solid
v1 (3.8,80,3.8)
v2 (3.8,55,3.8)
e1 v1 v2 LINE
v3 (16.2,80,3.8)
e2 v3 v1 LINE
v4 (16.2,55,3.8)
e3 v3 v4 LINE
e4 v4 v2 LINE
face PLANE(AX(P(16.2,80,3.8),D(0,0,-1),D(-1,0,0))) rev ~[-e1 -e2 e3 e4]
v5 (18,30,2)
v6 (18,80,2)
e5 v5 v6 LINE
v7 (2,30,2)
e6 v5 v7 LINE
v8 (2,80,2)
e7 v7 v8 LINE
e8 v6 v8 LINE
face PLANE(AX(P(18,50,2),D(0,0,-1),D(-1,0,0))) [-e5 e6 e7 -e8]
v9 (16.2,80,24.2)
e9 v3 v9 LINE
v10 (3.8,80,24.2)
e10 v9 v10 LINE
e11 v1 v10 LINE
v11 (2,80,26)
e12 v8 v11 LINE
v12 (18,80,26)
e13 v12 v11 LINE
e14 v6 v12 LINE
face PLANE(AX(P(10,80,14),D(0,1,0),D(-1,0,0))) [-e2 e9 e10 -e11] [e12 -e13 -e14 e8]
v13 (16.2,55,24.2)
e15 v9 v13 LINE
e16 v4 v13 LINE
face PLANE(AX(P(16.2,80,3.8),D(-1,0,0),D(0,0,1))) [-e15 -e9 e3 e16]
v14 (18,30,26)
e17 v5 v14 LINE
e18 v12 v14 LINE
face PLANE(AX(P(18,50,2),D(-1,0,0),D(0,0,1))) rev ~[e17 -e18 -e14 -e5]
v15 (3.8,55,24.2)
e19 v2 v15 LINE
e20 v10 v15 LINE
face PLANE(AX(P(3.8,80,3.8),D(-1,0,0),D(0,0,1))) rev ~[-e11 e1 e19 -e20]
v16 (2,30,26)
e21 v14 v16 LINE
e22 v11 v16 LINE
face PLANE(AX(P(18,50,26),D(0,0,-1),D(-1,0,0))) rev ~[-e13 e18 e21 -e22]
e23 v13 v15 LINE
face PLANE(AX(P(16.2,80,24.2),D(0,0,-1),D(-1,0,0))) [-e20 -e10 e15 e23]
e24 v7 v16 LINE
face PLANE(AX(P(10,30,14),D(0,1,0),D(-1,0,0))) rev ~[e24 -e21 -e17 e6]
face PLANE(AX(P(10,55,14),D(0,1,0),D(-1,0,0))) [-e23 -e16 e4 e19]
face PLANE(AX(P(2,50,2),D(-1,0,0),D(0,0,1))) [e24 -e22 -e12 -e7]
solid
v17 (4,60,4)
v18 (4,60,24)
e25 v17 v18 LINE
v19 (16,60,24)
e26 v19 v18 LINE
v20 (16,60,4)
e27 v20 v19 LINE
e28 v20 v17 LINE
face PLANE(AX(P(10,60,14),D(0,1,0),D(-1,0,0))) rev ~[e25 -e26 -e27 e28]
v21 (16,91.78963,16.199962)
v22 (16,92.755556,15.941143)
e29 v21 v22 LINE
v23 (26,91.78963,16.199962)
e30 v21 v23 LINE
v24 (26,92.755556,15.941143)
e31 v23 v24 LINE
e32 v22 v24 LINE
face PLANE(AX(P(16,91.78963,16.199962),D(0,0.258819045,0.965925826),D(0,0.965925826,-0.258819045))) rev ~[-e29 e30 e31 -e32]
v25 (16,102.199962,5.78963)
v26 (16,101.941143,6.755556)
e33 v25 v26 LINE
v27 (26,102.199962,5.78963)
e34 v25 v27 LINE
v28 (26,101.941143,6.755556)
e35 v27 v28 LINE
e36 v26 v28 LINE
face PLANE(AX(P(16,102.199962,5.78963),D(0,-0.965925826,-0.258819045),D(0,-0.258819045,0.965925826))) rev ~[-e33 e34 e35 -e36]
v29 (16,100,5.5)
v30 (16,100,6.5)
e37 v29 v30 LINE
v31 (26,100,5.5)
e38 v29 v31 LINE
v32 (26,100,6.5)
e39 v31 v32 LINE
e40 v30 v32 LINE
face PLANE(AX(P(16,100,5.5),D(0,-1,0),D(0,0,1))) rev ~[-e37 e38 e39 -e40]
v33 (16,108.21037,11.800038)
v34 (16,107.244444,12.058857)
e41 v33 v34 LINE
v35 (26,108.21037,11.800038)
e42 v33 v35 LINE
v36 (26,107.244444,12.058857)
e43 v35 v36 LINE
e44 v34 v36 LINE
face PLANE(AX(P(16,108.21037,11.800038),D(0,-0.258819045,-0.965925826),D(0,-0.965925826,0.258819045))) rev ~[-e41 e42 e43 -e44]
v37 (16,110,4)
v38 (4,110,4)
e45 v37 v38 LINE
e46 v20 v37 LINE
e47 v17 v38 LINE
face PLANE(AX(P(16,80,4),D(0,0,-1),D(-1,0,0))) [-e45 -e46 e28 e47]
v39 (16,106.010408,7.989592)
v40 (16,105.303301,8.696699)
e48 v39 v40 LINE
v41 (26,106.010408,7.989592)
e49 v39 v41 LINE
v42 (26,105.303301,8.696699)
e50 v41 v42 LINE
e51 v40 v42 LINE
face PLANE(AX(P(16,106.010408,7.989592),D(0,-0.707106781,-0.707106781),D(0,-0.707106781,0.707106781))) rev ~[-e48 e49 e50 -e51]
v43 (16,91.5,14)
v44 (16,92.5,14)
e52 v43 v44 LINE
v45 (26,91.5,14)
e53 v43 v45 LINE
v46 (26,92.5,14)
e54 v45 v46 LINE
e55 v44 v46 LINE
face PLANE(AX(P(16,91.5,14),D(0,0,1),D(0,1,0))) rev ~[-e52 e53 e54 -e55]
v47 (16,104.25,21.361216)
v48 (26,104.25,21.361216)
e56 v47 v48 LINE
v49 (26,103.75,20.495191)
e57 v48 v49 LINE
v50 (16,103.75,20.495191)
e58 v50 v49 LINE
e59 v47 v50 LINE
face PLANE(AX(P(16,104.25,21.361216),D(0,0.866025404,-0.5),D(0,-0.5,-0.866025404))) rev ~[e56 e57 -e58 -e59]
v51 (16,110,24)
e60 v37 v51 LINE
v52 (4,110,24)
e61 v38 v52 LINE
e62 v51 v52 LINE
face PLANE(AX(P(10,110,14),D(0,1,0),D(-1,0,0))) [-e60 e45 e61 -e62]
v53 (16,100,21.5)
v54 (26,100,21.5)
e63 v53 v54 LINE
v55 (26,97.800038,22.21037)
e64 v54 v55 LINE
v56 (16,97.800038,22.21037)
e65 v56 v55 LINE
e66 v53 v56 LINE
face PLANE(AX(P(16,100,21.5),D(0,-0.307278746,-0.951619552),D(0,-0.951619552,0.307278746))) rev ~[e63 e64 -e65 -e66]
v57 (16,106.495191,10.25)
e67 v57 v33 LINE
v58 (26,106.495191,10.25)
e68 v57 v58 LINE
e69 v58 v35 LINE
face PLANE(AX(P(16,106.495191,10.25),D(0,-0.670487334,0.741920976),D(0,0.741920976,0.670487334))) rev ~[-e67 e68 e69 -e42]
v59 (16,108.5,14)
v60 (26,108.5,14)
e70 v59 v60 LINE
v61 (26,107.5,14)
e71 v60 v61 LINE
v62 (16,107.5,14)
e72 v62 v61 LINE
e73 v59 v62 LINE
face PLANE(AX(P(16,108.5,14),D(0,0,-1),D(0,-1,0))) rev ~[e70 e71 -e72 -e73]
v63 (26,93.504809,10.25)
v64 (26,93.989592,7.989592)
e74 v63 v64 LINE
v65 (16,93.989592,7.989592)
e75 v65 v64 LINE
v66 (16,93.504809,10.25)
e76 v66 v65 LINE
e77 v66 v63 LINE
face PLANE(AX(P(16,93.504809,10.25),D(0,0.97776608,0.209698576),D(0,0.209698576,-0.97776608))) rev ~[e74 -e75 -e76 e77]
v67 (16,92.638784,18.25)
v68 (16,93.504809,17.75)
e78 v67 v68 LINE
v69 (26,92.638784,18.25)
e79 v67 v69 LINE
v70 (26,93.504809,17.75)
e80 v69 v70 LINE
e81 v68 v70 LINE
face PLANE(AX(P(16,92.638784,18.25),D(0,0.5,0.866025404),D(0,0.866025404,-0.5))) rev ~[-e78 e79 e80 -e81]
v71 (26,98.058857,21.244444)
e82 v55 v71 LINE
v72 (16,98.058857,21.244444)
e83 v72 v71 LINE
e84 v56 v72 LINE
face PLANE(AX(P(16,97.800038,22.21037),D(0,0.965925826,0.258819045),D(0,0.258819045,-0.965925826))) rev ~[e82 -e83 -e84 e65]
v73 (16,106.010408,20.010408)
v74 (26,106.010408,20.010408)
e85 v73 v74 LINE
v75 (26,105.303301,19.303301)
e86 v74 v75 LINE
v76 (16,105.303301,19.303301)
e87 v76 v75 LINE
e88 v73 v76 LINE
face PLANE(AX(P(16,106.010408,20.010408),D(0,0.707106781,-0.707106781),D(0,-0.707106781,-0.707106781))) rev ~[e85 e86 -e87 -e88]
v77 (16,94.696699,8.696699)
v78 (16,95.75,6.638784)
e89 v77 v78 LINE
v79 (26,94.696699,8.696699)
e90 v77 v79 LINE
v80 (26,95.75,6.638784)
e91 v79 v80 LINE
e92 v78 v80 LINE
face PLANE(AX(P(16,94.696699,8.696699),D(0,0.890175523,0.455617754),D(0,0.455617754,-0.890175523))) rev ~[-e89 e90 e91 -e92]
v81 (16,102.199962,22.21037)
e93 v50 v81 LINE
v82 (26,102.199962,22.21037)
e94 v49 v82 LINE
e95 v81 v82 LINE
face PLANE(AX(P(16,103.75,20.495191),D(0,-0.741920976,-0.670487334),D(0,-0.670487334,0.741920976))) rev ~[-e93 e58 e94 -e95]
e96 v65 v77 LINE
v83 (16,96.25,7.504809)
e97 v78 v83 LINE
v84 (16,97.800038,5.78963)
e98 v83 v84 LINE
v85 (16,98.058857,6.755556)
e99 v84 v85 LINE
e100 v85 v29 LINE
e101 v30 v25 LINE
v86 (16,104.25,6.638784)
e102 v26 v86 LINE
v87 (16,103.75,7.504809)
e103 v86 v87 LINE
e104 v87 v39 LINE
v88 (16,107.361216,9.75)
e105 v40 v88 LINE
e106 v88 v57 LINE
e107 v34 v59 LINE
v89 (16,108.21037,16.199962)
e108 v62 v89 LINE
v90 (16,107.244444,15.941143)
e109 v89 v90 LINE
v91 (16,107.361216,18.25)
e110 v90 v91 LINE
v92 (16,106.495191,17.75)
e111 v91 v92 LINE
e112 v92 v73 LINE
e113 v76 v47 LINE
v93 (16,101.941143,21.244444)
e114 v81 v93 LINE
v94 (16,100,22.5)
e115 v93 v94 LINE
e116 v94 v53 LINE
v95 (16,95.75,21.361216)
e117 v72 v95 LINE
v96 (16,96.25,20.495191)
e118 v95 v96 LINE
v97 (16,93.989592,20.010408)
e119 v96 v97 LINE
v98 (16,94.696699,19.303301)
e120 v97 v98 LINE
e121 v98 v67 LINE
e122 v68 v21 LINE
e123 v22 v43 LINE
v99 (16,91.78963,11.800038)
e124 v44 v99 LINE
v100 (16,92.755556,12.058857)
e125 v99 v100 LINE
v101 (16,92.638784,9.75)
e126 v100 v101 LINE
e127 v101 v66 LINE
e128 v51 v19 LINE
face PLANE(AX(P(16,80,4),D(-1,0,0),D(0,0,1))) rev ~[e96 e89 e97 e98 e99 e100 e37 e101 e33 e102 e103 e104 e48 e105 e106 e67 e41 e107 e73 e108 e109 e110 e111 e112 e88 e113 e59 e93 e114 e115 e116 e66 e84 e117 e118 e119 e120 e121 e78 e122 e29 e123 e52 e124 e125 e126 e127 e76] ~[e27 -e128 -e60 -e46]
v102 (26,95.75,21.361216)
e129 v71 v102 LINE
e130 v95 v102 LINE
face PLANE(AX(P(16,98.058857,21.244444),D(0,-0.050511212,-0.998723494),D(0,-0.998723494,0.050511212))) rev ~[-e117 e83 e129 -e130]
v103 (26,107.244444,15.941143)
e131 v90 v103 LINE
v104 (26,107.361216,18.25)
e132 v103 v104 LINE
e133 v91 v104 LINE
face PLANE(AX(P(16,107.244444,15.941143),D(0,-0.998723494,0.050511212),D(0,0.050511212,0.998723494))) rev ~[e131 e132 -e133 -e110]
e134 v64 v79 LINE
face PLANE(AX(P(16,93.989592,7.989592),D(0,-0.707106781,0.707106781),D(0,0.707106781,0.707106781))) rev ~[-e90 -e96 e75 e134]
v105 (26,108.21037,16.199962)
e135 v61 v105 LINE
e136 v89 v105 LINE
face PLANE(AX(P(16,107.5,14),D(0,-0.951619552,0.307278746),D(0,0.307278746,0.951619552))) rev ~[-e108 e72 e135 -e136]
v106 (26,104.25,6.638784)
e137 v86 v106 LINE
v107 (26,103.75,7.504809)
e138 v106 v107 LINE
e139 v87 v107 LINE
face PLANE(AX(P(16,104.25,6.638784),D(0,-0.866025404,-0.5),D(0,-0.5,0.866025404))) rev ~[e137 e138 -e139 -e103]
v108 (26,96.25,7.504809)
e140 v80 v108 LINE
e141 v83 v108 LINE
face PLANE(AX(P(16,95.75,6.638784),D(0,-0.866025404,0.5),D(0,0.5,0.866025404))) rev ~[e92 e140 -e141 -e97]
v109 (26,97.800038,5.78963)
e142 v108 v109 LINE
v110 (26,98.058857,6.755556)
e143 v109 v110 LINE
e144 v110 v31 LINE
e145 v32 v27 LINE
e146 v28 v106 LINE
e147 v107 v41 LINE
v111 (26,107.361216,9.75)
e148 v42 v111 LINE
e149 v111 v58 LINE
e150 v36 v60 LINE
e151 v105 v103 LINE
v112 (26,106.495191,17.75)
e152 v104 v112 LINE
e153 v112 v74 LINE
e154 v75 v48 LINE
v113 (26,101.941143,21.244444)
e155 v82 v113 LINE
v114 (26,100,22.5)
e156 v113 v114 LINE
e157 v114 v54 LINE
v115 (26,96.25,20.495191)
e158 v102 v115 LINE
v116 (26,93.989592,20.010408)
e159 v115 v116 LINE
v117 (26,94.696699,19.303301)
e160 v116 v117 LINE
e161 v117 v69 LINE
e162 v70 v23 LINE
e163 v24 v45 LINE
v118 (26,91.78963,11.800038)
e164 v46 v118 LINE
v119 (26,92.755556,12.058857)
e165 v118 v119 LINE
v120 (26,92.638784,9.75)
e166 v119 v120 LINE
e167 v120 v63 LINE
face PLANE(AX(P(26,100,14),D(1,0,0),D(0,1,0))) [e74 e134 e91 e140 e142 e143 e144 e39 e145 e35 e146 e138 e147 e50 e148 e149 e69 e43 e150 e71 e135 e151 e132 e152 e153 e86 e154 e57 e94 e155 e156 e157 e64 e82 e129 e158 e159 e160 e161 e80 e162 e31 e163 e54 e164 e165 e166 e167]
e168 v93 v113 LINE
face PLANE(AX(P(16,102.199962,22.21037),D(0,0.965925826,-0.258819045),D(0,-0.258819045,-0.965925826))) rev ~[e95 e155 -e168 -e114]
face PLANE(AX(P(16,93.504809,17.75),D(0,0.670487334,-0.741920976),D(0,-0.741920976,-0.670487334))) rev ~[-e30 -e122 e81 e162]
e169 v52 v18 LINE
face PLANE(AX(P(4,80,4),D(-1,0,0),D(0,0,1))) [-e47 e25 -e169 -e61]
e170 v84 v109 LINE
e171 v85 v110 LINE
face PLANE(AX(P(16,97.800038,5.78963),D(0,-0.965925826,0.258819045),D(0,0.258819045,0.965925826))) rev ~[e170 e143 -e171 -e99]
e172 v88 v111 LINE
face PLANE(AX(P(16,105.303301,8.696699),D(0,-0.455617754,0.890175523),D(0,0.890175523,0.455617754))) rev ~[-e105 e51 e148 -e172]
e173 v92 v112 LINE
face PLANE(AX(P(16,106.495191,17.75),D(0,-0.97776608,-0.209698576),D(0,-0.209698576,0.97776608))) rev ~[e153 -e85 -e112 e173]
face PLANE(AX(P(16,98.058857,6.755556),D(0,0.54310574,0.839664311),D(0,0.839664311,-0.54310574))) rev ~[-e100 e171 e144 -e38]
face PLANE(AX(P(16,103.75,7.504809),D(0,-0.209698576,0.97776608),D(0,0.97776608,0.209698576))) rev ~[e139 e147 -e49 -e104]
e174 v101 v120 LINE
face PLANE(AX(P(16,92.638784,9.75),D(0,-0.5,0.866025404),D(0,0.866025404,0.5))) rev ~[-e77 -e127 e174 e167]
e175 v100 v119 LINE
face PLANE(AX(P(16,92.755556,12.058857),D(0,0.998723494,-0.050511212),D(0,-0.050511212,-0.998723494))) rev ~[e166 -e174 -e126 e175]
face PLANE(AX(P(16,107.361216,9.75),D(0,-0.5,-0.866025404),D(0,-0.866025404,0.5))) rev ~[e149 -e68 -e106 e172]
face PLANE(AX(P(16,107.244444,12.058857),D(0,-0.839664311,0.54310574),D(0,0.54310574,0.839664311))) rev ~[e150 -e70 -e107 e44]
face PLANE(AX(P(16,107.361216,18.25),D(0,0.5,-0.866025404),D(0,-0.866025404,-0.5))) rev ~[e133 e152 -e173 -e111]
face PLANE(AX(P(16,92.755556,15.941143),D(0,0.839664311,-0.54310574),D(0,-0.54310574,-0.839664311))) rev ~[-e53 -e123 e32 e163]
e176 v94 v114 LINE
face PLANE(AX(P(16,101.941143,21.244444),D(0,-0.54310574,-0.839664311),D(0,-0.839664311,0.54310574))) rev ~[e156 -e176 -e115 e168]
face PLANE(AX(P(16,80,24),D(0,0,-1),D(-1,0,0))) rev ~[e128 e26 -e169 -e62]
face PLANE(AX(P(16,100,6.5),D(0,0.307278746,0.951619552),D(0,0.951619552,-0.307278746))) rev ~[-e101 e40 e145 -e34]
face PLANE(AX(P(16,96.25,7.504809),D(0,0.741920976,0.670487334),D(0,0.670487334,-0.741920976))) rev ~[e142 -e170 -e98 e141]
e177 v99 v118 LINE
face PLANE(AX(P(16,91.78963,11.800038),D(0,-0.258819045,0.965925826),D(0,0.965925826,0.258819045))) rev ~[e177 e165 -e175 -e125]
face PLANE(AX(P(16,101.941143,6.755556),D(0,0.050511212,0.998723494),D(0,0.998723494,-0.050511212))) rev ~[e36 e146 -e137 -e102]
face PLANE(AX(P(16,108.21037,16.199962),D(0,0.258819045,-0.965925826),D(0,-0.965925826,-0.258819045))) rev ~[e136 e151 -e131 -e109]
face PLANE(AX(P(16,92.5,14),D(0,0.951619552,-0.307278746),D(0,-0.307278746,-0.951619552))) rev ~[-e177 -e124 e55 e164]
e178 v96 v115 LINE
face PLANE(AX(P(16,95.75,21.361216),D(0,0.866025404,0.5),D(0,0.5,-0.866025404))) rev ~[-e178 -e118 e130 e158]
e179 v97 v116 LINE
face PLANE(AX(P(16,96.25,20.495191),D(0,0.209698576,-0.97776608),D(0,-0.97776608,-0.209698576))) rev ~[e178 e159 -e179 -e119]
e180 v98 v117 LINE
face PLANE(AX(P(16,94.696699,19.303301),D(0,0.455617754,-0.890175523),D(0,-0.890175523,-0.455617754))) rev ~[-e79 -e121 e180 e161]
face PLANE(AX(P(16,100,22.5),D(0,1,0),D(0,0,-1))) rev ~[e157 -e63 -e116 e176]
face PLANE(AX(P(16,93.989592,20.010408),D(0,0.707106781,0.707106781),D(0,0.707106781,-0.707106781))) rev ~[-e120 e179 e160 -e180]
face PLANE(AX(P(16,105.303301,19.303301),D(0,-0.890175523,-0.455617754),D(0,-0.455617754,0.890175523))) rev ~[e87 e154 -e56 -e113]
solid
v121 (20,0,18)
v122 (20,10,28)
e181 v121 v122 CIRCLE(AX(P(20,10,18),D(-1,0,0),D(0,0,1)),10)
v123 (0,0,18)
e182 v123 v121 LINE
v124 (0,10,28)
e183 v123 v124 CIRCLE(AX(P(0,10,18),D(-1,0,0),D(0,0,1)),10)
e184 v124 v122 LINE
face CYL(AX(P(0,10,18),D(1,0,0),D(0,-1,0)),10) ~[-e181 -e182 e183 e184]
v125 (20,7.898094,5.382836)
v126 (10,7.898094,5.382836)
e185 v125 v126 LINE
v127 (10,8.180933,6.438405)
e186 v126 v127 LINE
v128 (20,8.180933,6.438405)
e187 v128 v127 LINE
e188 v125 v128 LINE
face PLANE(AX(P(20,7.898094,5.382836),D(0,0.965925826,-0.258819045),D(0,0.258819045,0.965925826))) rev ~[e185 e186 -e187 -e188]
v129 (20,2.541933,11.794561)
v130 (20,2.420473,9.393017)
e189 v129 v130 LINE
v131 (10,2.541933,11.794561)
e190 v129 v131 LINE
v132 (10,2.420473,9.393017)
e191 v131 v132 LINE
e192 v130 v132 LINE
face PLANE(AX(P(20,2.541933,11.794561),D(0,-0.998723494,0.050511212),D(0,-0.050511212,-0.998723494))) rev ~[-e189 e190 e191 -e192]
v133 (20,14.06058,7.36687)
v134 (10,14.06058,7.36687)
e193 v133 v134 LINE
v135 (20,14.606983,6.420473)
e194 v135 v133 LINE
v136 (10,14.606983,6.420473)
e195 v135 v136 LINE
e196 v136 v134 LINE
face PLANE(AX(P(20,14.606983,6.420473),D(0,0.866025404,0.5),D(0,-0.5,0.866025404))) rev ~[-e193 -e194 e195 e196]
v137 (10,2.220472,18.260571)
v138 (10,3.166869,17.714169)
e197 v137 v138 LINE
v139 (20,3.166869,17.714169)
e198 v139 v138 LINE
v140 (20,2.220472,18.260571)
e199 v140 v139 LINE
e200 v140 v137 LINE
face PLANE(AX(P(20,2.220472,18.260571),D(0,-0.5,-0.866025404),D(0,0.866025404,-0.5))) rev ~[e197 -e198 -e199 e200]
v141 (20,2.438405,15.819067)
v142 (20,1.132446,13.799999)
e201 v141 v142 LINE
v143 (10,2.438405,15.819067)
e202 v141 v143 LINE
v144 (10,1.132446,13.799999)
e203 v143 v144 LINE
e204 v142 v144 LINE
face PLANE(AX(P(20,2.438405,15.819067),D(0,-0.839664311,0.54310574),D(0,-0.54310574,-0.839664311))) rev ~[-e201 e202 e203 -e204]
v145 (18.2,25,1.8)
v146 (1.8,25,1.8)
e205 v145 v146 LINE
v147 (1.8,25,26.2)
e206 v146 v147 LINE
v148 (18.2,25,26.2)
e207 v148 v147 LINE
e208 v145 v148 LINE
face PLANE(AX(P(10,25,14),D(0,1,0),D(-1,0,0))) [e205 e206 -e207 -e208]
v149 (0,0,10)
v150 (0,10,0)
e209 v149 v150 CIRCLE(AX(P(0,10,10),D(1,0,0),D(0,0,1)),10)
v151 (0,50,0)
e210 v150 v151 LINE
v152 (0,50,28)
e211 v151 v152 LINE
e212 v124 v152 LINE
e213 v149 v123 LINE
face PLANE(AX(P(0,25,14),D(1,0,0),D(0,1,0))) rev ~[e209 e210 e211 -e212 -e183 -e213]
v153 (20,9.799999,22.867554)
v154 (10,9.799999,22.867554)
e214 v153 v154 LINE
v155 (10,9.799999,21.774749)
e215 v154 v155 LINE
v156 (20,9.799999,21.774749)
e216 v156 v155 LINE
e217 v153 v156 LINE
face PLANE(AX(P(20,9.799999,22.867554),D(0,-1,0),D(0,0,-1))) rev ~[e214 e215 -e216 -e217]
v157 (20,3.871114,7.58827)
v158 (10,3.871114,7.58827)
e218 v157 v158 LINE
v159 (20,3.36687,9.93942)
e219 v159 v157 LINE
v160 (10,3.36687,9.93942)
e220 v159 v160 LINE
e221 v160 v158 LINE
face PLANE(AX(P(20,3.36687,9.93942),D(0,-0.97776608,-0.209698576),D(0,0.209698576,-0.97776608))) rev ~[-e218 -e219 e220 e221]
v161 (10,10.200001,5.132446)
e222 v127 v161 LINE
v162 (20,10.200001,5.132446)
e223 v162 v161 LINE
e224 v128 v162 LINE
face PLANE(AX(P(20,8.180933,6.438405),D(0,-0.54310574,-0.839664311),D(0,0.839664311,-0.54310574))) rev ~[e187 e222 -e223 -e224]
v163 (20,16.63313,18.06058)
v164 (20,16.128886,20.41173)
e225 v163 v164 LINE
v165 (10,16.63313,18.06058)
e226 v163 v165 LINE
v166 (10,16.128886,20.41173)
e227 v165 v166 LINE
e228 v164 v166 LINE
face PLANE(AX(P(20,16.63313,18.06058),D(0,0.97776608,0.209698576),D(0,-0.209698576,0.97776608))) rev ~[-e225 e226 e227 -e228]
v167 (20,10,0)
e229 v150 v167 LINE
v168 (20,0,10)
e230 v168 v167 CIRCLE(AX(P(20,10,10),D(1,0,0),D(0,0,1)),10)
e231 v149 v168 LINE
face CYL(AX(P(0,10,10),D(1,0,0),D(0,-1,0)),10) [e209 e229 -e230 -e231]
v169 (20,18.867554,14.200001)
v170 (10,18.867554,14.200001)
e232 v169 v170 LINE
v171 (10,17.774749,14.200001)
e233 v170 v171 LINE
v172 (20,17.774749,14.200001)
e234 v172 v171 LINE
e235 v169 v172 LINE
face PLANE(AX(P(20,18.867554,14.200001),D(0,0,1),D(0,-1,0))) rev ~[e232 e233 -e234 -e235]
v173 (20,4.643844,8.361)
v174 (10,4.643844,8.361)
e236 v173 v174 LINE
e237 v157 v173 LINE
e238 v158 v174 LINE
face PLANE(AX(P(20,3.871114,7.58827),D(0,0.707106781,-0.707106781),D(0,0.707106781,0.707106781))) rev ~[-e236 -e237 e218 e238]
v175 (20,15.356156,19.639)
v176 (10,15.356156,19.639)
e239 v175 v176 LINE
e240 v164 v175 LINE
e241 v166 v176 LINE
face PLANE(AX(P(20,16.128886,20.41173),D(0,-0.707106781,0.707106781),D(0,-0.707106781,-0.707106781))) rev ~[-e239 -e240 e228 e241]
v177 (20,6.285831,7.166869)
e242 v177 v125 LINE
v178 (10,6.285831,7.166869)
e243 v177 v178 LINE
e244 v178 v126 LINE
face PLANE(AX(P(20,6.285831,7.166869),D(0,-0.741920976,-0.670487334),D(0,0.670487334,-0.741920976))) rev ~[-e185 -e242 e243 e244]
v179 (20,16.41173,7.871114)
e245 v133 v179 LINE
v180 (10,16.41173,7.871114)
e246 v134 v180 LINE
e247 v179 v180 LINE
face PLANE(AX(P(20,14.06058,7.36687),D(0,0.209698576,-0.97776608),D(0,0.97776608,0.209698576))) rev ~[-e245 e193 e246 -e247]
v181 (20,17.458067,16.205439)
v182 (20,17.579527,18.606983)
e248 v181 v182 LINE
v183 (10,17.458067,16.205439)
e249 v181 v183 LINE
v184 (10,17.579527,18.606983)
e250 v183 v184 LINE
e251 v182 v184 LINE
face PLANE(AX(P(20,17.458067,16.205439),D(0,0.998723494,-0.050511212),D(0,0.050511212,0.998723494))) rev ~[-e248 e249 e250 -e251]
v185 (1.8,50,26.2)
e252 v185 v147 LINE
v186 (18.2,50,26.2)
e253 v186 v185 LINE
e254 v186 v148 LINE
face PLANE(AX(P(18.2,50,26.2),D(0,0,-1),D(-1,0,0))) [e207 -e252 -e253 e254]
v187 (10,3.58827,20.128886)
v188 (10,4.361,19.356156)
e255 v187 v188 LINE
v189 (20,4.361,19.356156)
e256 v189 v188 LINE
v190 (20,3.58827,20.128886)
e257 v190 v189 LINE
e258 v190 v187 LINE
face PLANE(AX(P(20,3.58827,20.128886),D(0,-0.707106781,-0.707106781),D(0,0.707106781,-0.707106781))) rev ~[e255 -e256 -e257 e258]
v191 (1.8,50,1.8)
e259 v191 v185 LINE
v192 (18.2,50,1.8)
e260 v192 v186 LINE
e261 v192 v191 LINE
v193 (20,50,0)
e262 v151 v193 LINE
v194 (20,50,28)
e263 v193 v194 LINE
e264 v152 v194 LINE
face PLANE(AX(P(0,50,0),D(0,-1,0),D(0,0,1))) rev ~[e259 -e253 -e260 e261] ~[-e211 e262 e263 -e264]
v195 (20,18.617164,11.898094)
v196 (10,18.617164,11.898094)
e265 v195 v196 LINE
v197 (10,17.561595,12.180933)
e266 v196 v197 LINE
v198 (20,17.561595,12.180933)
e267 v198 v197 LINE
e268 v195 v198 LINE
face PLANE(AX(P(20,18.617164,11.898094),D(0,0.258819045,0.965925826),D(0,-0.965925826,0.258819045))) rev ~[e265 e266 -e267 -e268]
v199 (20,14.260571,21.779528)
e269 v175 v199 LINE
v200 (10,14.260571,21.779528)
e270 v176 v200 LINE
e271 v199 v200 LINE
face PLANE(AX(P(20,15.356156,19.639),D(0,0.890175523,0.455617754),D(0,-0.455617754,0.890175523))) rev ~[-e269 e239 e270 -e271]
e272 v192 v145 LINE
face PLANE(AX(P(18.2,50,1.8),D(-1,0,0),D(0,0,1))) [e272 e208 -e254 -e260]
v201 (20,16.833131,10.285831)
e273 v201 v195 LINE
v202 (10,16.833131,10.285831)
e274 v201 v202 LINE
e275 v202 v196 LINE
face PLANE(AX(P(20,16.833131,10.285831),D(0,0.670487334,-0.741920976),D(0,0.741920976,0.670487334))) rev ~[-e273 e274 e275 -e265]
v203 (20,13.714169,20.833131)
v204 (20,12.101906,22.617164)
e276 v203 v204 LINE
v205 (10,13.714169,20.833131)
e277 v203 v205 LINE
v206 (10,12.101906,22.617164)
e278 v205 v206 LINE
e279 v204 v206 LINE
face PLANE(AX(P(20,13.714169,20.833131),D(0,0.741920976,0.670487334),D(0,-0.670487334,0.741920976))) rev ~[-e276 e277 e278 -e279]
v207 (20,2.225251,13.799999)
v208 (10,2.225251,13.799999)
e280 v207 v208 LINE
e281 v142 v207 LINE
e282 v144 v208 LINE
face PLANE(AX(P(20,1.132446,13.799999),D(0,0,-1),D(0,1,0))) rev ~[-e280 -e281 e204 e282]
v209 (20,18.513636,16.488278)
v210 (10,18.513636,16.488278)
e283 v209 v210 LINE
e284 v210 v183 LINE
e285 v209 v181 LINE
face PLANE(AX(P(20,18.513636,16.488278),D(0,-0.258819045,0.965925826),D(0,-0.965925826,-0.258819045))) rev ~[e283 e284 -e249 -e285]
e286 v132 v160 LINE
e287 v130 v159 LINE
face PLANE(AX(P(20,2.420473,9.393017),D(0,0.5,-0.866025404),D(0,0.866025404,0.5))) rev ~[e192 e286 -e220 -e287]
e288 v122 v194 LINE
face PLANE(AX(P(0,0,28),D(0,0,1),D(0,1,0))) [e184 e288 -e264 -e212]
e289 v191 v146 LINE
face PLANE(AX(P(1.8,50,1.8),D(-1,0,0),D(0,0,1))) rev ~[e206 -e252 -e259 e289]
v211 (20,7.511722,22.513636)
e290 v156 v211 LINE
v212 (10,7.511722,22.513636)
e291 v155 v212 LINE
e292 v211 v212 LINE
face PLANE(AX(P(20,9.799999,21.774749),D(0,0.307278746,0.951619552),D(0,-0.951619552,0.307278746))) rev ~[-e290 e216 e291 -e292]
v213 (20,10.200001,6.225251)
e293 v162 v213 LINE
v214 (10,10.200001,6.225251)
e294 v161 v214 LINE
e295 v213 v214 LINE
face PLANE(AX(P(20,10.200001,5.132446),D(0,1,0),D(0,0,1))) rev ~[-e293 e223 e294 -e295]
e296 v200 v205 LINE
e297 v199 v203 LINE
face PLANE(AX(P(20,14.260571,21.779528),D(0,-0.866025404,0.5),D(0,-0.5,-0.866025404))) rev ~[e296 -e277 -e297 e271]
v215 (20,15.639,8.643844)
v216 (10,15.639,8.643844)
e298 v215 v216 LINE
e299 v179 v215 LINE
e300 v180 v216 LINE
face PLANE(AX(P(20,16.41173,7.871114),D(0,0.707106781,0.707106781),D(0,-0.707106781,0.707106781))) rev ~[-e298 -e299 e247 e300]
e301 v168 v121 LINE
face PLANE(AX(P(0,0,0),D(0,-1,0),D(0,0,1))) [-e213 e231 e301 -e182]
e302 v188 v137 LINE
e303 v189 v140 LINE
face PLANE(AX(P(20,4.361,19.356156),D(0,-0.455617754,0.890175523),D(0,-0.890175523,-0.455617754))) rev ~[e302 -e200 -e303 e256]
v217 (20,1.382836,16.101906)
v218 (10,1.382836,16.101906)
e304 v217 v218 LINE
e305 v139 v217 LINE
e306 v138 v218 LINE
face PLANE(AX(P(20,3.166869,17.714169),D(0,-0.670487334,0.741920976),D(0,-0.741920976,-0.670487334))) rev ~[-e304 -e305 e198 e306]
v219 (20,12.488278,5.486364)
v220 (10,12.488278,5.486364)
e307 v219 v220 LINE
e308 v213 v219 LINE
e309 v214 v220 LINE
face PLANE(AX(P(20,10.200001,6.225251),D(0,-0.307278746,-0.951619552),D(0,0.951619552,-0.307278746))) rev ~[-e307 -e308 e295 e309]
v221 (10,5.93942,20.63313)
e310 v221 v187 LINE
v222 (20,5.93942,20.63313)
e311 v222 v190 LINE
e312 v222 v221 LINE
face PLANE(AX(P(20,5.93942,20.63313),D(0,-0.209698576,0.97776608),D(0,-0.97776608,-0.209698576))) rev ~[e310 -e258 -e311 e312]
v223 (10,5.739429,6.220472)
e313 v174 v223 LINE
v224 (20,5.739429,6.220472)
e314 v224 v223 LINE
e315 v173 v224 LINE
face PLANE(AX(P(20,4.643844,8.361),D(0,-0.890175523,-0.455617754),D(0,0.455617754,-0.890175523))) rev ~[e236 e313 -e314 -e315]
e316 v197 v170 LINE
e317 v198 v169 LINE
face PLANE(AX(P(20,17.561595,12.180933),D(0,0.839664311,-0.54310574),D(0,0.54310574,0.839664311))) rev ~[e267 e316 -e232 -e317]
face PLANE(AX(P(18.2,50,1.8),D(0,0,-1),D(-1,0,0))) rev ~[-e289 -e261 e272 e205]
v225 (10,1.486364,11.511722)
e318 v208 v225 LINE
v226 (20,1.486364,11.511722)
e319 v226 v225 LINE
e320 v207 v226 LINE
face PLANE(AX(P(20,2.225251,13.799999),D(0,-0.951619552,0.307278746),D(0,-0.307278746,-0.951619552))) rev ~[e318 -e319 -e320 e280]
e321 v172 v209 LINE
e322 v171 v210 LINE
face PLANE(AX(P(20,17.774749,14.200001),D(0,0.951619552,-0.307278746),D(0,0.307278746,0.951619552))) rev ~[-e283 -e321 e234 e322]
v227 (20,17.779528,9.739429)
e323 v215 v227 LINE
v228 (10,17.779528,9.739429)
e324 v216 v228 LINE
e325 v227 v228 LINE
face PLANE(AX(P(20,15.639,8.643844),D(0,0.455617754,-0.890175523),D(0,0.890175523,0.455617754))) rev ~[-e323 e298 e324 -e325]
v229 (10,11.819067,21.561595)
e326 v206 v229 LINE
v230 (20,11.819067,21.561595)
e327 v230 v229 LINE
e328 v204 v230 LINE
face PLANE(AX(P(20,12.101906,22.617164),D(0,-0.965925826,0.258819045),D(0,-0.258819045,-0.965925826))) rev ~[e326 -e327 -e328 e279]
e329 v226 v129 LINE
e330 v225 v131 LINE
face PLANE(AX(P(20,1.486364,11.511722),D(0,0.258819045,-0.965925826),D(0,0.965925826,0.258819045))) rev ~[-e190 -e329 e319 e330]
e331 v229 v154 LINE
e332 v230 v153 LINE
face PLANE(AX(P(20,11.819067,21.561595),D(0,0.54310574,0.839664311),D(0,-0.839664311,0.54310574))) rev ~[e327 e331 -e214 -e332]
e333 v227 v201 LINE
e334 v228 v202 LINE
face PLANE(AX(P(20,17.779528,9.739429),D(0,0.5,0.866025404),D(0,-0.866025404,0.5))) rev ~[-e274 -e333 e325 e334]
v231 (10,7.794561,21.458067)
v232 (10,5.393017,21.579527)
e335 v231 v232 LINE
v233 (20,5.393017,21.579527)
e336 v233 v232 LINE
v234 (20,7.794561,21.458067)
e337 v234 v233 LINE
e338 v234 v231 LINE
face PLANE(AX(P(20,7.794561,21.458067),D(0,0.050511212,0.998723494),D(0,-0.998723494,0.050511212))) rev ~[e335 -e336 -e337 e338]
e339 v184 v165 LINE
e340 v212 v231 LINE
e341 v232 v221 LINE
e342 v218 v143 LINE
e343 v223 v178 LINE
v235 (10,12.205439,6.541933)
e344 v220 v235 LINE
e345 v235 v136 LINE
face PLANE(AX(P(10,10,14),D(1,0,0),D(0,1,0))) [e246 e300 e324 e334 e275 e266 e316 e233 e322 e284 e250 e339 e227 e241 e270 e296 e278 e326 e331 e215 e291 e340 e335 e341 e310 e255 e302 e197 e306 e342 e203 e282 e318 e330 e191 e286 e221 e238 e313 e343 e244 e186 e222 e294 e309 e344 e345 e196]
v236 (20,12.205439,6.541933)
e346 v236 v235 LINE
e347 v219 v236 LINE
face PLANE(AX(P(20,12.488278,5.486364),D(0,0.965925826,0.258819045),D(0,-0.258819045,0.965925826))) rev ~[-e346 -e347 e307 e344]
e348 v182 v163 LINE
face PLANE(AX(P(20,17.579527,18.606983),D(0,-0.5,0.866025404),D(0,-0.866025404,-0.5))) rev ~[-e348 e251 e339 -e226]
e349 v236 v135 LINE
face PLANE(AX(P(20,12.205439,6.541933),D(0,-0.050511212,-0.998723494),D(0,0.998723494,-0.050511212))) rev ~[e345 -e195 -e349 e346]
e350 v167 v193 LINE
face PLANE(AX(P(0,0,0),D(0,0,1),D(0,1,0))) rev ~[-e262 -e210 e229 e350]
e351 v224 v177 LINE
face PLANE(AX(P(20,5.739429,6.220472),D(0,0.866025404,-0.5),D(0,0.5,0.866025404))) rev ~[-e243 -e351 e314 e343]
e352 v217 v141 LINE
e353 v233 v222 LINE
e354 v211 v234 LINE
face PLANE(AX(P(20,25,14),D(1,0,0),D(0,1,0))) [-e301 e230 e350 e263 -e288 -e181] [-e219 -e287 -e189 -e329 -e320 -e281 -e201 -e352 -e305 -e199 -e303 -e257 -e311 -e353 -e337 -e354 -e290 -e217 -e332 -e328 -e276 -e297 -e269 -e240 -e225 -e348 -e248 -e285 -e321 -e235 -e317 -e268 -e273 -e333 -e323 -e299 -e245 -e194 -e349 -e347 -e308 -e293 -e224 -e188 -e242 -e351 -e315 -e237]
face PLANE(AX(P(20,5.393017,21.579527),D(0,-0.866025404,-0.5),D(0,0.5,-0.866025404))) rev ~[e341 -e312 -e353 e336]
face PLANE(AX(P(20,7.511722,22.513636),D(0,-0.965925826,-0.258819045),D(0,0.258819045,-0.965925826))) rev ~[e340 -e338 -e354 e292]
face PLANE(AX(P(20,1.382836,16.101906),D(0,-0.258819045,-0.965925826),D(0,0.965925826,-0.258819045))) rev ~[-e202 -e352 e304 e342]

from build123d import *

# Parameters (mm, degrees)
F0_W           = 50
F0_H           = 28
F1_DEPTH       = 20
F3_DEPTH       = 10
F4_R           = 10
F5_W           = 16.4
F5_H           = 24.4
F5_W_2         = 16
F5_H_2         = 24
F6_DEPTH       = 25
F7_DEPTH       = 30
F7_DEPTH_BACK  = 20
F8_W           = 12.4
F8_H           = 20.4
F8_W_2         = 12
F8_H_2         = 20
F9_DEPTH       = 25
F10_DEPTH      = 30
F10_DEPTH_BACK = 20
F12_DEPTH      = 10


with BuildPart() as f1:
    # F0 (on Right) → F1 (new body)
    with BuildSketch(Plane.YZ):
        with Locations((25, 14)):
            Rectangle(F0_W, F0_H)
    extrude(amount=F1_DEPTH)

    # F2 (on face) → F3 (cut)
    with BuildSketch(Plane.YZ.offset(20)):
        Polygon((17.774749168, 14.2000007122), (18.513635743, 16.4882777954), (17.4580670209, 16.2054390088), (17.5795269568, 18.6069828589), (16.6331299314, 18.0605802816), (16.1288859342, 20.411729654), (15.3561559988, 19.6389997186), (14.2605714638, 21.779527669), (13.7141688864, 20.8331306436), (12.101906089, 22.6171637297), (11.8190673023, 21.5615950076), (9.7999992878, 22.8675543227), (9.7999992878, 21.774749168), (7.5117222046, 22.513635743), (7.7945609912, 21.4580670209), (5.3930171411, 21.5795269568), (5.9394197184, 20.6331299314), (3.588270346, 20.1288859342), (4.3610002814, 19.3561559988), (2.220472331, 18.2605714638), (3.1668693564, 17.7141688864), (1.3828362703, 16.101906089), (2.4384049924, 15.8190673023), (1.1324456773, 13.7999992878), (2.225250832, 13.7999992878), (1.486364257, 11.5117222046), (2.5419329791, 11.7945609912), (2.4204730432, 9.3930171411), (3.3668700686, 9.9394197184), (3.8711140658, 7.588270346), (4.6438440012, 8.3610002814), (5.7394285362, 6.220472331), (6.2858311136, 7.1668693564), (7.898093911, 5.3828362703), (8.1809326977, 6.4384049924), (10.2000007122, 5.1324456773), (10.2000007122, 6.225250832), (12.4882777954, 5.486364257), (12.2054390088, 6.5419329791), (14.6069828589, 6.4204730432), (14.0605802816, 7.3668700686), (16.411729654, 7.8711140658), (15.6389997186, 8.6438440012), (17.779527669, 9.7394285362), (16.8331306436, 10.2858311136), (18.6171637297, 11.898093911), (17.5615950076, 12.1809326977), (18.8675543227, 14.2000007122), align=None)
        Polygon((18.2103695235, 16.1999618834), (17.5, 14), (18.5, 14), (17.2444436972, 12.0588571617), (18.2103695235, 11.8000381166), (16.4951905284, 10.25), (17.3612159322, 9.75), (15.3033008589, 8.6966991411), (16.0104076401, 7.9895923599), (13.75, 7.5048094716), (14.25, 6.6387840678), (11.9411428383, 6.7555563028), (12.1999618834, 5.7896304765), (10, 6.5), (10, 5.5), (8.0588571617, 6.7555563028), (7.8000381166, 5.7896304765), (6.25, 7.5048094716), (5.75, 6.6387840678), (4.6966991411, 8.6966991411), (3.9895923599, 7.9895923599), (3.5048094716, 10.25), (2.6387840678, 9.75), (2.7555563028, 12.0588571617), (1.7896304765, 11.8000381166), (2.5, 14), (1.5, 14), (2.7555563028, 15.9411428383), (1.7896304765, 16.1999618834), (3.5048094716, 17.75), (2.6387840678, 18.25), (4.6966991411, 19.3033008589), (3.9895923599, 20.0104076401), (6.25, 20.4951905284), (5.75, 21.3612159322), (8.0588571617, 21.2444436972), (7.8000381166, 22.2103695235), (10, 21.5), (10, 22.5), (11.9411428383, 21.2444436972), (12.1999618834, 22.2103695235), (13.75, 20.4951905284), (14.25, 21.3612159322), (15.3033008589, 19.3033008589), (16.0104076401, 20.0104076401), (16.4951905284, 17.75), (17.3612159322, 18.25), (17.2444436972, 15.9411428383), align=None, mode=Mode.SUBTRACT)
        with BuildLine():
            ThreePointArc((17.2444436972, 12.0588571617), (17.4358364603, 13.0210535583), (17.5, 14))
            ThreePointArc((17.5, 14), (17.4358364603, 14.9789464417), (17.2444436972, 15.9411428383))
            ThreePointArc((17.2444436972, 15.9411428383), (16.9290964938, 16.8701257427), (16.4951905284, 17.75))
            ThreePointArc((16.4951905284, 17.75), (15.9501500522, 18.5657107176), (15.3033008589, 19.3033008589))
            ThreePointArc((15.3033008589, 19.3033008589), (14.5657107176, 19.9501500522), (13.75, 20.4951905284))
            ThreePointArc((13.75, 20.4951905284), (12.8701257427, 20.9290964938), (11.9411428383, 21.2444436972))
            ThreePointArc((11.9411428383, 21.2444436972), (10.9789464417, 21.4358364603), (10, 21.5))
            ThreePointArc((10, 21.5), (9.0210535583, 21.4358364603), (8.0588571617, 21.2444436972))
            ThreePointArc((8.0588571617, 21.2444436972), (7.1298742573, 20.9290964938), (6.25, 20.4951905284))
            ThreePointArc((6.25, 20.4951905284), (5.4342892824, 19.9501500522), (4.6966991411, 19.3033008589))
            ThreePointArc((4.6966991411, 19.3033008589), (4.0498499478, 18.5657107176), (3.5048094716, 17.75))
            ThreePointArc((3.5048094716, 17.75), (3.0709035062, 16.8701257427), (2.7555563028, 15.9411428383))
            ThreePointArc((2.7555563028, 15.9411428383), (2.5641635397, 14.9789464417), (2.5, 14))
            ThreePointArc((2.5, 14), (2.5641635397, 13.0210535583), (2.7555563028, 12.0588571617))
            ThreePointArc((2.7555563028, 12.0588571617), (3.0709035062, 11.1298742573), (3.5048094716, 10.25))
            ThreePointArc((3.5048094716, 10.25), (4.0498499478, 9.4342892824), (4.6966991411, 8.6966991411))
            ThreePointArc((4.6966991411, 8.6966991411), (5.4342892824, 8.0498499478), (6.25, 7.5048094716))
            ThreePointArc((6.25, 7.5048094716), (7.1298742573, 7.0709035062), (8.0588571617, 6.7555563028))
            ThreePointArc((8.0588571617, 6.7555563028), (9.0210535583, 6.5641635397), (10, 6.5))
            ThreePointArc((10, 6.5), (10.9789464417, 6.5641635397), (11.9411428383, 6.7555563028))
            ThreePointArc((11.9411428383, 6.7555563028), (12.8701257427, 7.0709035062), (13.75, 7.5048094716))
            ThreePointArc((13.75, 7.5048094716), (14.5657107176, 8.0498499478), (15.3033008589, 8.6966991411))
            ThreePointArc((15.3033008589, 8.6966991411), (15.9501500522, 9.4342892824), (16.4951905284, 10.25))
            ThreePointArc((16.4951905284, 10.25), (16.9290964938, 11.1298742573), (17.2444436972, 12.0588571617))
        make_face()
        with BuildLine():
            ThreePointArc((8.0588571617, 21.2444436972), (9.0210535583, 21.4358364603), (10, 21.5))
            Line((10, 21.5), (7.8000381166, 22.2103695235))
            Line((7.8000381166, 22.2103695235), (8.0588571617, 21.2444436972))
        make_face()
        with BuildLine():
            ThreePointArc((6.25, 20.4951905284), (7.1298742573, 20.9290964938), (8.0588571617, 21.2444436972))
            Line((8.0588571617, 21.2444436972), (5.75, 21.3612159322))
            Line((5.75, 21.3612159322), (6.25, 20.4951905284))
        make_face()
        with BuildLine():
            ThreePointArc((4.6966991411, 19.3033008589), (5.4342892824, 19.9501500522), (6.25, 20.4951905284))
            Line((6.25, 20.4951905284), (3.9895923599, 20.0104076401))
            Line((3.9895923599, 20.0104076401), (4.6966991411, 19.3033008589))
        make_face()
        with BuildLine():
            ThreePointArc((3.5048094716, 17.75), (4.0498499478, 18.5657107176), (4.6966991411, 19.3033008589))
            Line((4.6966991411, 19.3033008589), (2.6387840678, 18.25))
            Line((2.6387840678, 18.25), (3.5048094716, 17.75))
        make_face()
        with BuildLine():
            ThreePointArc((2.7555563028, 15.9411428383), (3.0709035062, 16.8701257427), (3.5048094716, 17.75))
            Line((3.5048094716, 17.75), (1.7896304765, 16.1999618834))
            Line((1.7896304765, 16.1999618834), (2.7555563028, 15.9411428383))
        make_face()
        with BuildLine():
            Line((1.7896304765, 11.8000381166), (2.7555563028, 12.0588571617))
            ThreePointArc((2.7555563028, 12.0588571617), (2.5641635397, 13.0210535583), (2.5, 14))
            Line((2.5, 14), (1.7896304765, 11.8000381166))
        make_face()
        with BuildLine():
            ThreePointArc((2.5, 14), (2.5641635397, 14.9789464417), (2.7555563028, 15.9411428383))
            Line((2.7555563028, 15.9411428383), (1.5, 14))
            Line((1.5, 14), (2.5, 14))
        make_face()
        with BuildLine():
            Line((2.6387840678, 9.75), (3.5048094716, 10.25))
            ThreePointArc((3.5048094716, 10.25), (3.0709035062, 11.1298742573), (2.7555563028, 12.0588571617))
            Line((2.7555563028, 12.0588571617), (2.6387840678, 9.75))
        make_face()
        with BuildLine():
            ThreePointArc((10, 21.5), (10.9789464417, 21.4358364603), (11.9411428383, 21.2444436972))
            Line((11.9411428383, 21.2444436972), (10, 22.5))
            Line((10, 22.5), (10, 21.5))
        make_face()
        with BuildLine():
            ThreePointArc((11.9411428383, 21.2444436972), (12.8701257427, 20.9290964938), (13.75, 20.4951905284))
            Line((13.75, 20.4951905284), (12.1999618834, 22.2103695235))
            Line((12.1999618834, 22.2103695235), (11.9411428383, 21.2444436972))
        make_face()
        with BuildLine():
            ThreePointArc((13.75, 20.4951905284), (14.5657107176, 19.9501500522), (15.3033008589, 19.3033008589))
            Line((15.3033008589, 19.3033008589), (14.25, 21.3612159322))
            Line((14.25, 21.3612159322), (13.75, 20.4951905284))
        make_face()
        with BuildLine():
            ThreePointArc((15.3033008589, 19.3033008589), (15.9501500522, 18.5657107176), (16.4951905284, 17.75))
            Line((16.4951905284, 17.75), (16.0104076401, 20.0104076401))
            Line((16.0104076401, 20.0104076401), (15.3033008589, 19.3033008589))
        make_face()
        with BuildLine():
            ThreePointArc((16.4951905284, 17.75), (16.9290964938, 16.8701257427), (17.2444436972, 15.9411428383))
            Line((17.2444436972, 15.9411428383), (17.3612159322, 18.25))
            Line((17.3612159322, 18.25), (16.4951905284, 17.75))
        make_face()
        with BuildLine():
            ThreePointArc((17.2444436972, 15.9411428383), (17.4358364603, 14.9789464417), (17.5, 14))
            Line((17.5, 14), (18.2103695235, 16.1999618834))
            Line((18.2103695235, 16.1999618834), (17.2444436972, 15.9411428383))
        make_face()
        with BuildLine():
            Line((18.5, 14), (17.5, 14))
            ThreePointArc((17.5, 14), (17.4358364603, 13.0210535583), (17.2444436972, 12.0588571617))
            Line((17.2444436972, 12.0588571617), (18.5, 14))
        make_face()
        with BuildLine():
            Line((18.2103695235, 11.8000381166), (17.2444436972, 12.0588571617))
            ThreePointArc((17.2444436972, 12.0588571617), (16.9290964938, 11.1298742573), (16.4951905284, 10.25))
            Line((16.4951905284, 10.25), (18.2103695235, 11.8000381166))
        make_face()
        with BuildLine():
            Line((17.3612159322, 9.75), (16.4951905284, 10.25))
            ThreePointArc((16.4951905284, 10.25), (15.9501500522, 9.4342892824), (15.3033008589, 8.6966991411))
            Line((15.3033008589, 8.6966991411), (17.3612159322, 9.75))
        make_face()
        with BuildLine():
            Line((16.0104076401, 7.9895923599), (15.3033008589, 8.6966991411))
            ThreePointArc((15.3033008589, 8.6966991411), (14.5657107176, 8.0498499478), (13.75, 7.5048094716))
            Line((13.75, 7.5048094716), (16.0104076401, 7.9895923599))
        make_face()
        with BuildLine():
            Line((14.25, 6.6387840678), (13.75, 7.5048094716))
            ThreePointArc((13.75, 7.5048094716), (12.8701257427, 7.0709035062), (11.9411428383, 6.7555563028))
            Line((11.9411428383, 6.7555563028), (14.25, 6.6387840678))
        make_face()
        with BuildLine():
            Line((12.1999618834, 5.7896304765), (11.9411428383, 6.7555563028))
            ThreePointArc((11.9411428383, 6.7555563028), (10.9789464417, 6.5641635397), (10, 6.5))
            Line((10, 6.5), (12.1999618834, 5.7896304765))
        make_face()
        with BuildLine():
            Line((10, 5.5), (10, 6.5))
            ThreePointArc((10, 6.5), (9.0210535583, 6.5641635397), (8.0588571617, 6.7555563028))
            Line((8.0588571617, 6.7555563028), (10, 5.5))
        make_face()
        with BuildLine():
            Line((7.8000381166, 5.7896304765), (8.0588571617, 6.7555563028))
            ThreePointArc((8.0588571617, 6.7555563028), (7.1298742573, 7.0709035062), (6.25, 7.5048094716))
            Line((6.25, 7.5048094716), (7.8000381166, 5.7896304765))
        make_face()
        with BuildLine():
            Line((5.75, 6.6387840678), (6.25, 7.5048094716))
            ThreePointArc((6.25, 7.5048094716), (5.4342892824, 8.0498499478), (4.6966991411, 8.6966991411))
            Line((4.6966991411, 8.6966991411), (5.75, 6.6387840678))
        make_face()
        with BuildLine():
            Line((3.9895923599, 7.9895923599), (4.6966991411, 8.6966991411))
            ThreePointArc((4.6966991411, 8.6966991411), (4.0498499478, 9.4342892824), (3.5048094716, 10.25))
            Line((3.5048094716, 10.25), (3.9895923599, 7.9895923599))
        make_face()
    extrude(amount=-F3_DEPTH, mode=Mode.SUBTRACT)

    # F4
    f4_edges = [f1.edges().sort_by_distance(p)[0] for p in [
        (10, 0, 0),
        (10, 0, 28),
    ]]
    fillet(f4_edges, radius=F4_R)

    # F5 (on face) → F6 (cut)
    with BuildSketch(Plane(origin=(0, 50, 0), x_dir=(-1, 0, 0), z_dir=(0, 1, 0))):
        with Locations((-10, 14)):
            Rectangle(F5_W, F5_H)
        with Locations((-10, 14)):
            Rectangle(F5_W_2, F5_H_2, mode=Mode.SUBTRACT)
        with Locations((-10, 14)):
            Rectangle(F5_W_2, F5_H_2)
    extrude(amount=-F6_DEPTH, mode=Mode.SUBTRACT)


with BuildPart() as f7:
    # F5 (on face) → F7 (new body, two sides)
    with BuildSketch(Plane(origin=(0, 50, 0), x_dir=(-1, 0, 0), z_dir=(0, 1, 0))) as f7_sk:
        with Locations((-10, 14)):
            Rectangle(F5_W_2, F5_H_2)
    extrude(amount=F7_DEPTH)
    extrude(f7_sk.sketch, amount=-F7_DEPTH_BACK)

    # F8 (on face) → F9 (cut)
    with BuildSketch(Plane(origin=(0, 80, 0), x_dir=(-1, 0, 0), z_dir=(0, 1, 0))):
        with Locations((-10, 14)):
            Rectangle(F8_W, F8_H)
        with Locations((-10, 14)):
            Rectangle(F8_W_2, F8_H_2, mode=Mode.SUBTRACT)
        with Locations((-10, 14)):
            Rectangle(F8_W_2, F8_H_2)
    extrude(amount=-F9_DEPTH, mode=Mode.SUBTRACT)


with BuildPart() as f10:
    # F8 (on face) → F10 (new body, two sides)
    with BuildSketch(Plane(origin=(0, 80, 0), x_dir=(-1, 0, 0), z_dir=(0, 1, 0))) as f10_sk:
        with Locations((-10, 14)):
            Rectangle(F8_W_2, F8_H_2)
    extrude(amount=F10_DEPTH)
    extrude(f10_sk.sketch, amount=-F10_DEPTH_BACK)

    # F11 (on face) → F12 (join)
    with BuildSketch(Plane.YZ.offset(16)):
        with BuildLine():
            ThreePointArc((107.2444436972, 12.0588571617), (107.4358364603, 13.0210535583), (107.5, 14))
            ThreePointArc((107.5, 14), (107.4358364603, 14.9789464417), (107.2444436972, 15.9411428383))
            ThreePointArc((107.2444436972, 15.9411428383), (106.9290964938, 16.8701257427), (106.4951905284, 17.75))
            ThreePointArc((106.4951905284, 17.75), (105.9501500522, 18.5657107176), (105.3033008589, 19.3033008589))
            ThreePointArc((105.3033008589, 19.3033008589), (104.5657107176, 19.9501500522), (103.75, 20.4951905284))
            ThreePointArc((103.75, 20.4951905284), (102.8701257427, 20.9290964938), (101.9411428383, 21.2444436972))
            ThreePointArc((101.9411428383, 21.2444436972), (100.9789464417, 21.4358364603), (100, 21.5))
            ThreePointArc((100, 21.5), (99.0210535583, 21.4358364603), (98.0588571617, 21.2444436972))
            ThreePointArc((98.0588571617, 21.2444436972), (97.1298742573, 20.9290964938), (96.25, 20.4951905284))
            ThreePointArc((96.25, 20.4951905284), (95.4342892824, 19.9501500522), (94.6966991411, 19.3033008589))
            ThreePointArc((94.6966991411, 19.3033008589), (94.0498499478, 18.5657107176), (93.5048094716, 17.75))
            ThreePointArc((93.5048094716, 17.75), (93.0709035062, 16.8701257427), (92.7555563028, 15.9411428383))
            ThreePointArc((92.7555563028, 15.9411428383), (92.5641635397, 14.9789464417), (92.5, 14))
            ThreePointArc((92.5, 14), (92.5641635397, 13.0210535583), (92.7555563028, 12.0588571617))
            ThreePointArc((92.7555563028, 12.0588571617), (93.0709035062, 11.1298742573), (93.5048094716, 10.25))
            ThreePointArc((93.5048094716, 10.25), (94.0498499478, 9.4342892824), (94.6966991411, 8.6966991411))
            ThreePointArc((94.6966991411, 8.6966991411), (95.4342892824, 8.0498499478), (96.25, 7.5048094716))
            ThreePointArc((96.25, 7.5048094716), (97.1298742573, 7.0709035062), (98.0588571617, 6.7555563028))
            ThreePointArc((98.0588571617, 6.7555563028), (99.0210535583, 6.5641635397), (100, 6.5))
            ThreePointArc((100, 6.5), (100.9789464417, 6.5641635397), (101.9411428383, 6.7555563028))
            ThreePointArc((101.9411428383, 6.7555563028), (102.8701257427, 7.0709035062), (103.75, 7.5048094716))
            ThreePointArc((103.75, 7.5048094716), (104.5657107176, 8.0498499478), (105.3033008589, 8.6966991411))
            ThreePointArc((105.3033008589, 8.6966991411), (105.9501500522, 9.4342892824), (106.4951905284, 10.25))
            ThreePointArc((106.4951905284, 10.25), (106.9290964938, 11.1298742573), (107.2444436972, 12.0588571617))
        make_face()
        with BuildLine():
            Line((108.2103695235, 11.8000381166), (107.2444436972, 12.0588571617))
            ThreePointArc((107.2444436972, 12.0588571617), (106.9290964938, 11.1298742573), (106.4951905284, 10.25))
            Line((106.4951905284, 10.25), (108.2103695235, 11.8000381166))
        make_face()
        with BuildLine():
            Line((108.5, 14), (107.5, 14))
            ThreePointArc((107.5, 14), (107.4358364603, 13.0210535583), (107.2444436972, 12.0588571617))
            Line((107.2444436972, 12.0588571617), (108.5, 14))
        make_face()
        with BuildLine():
            ThreePointArc((107.2444436972, 15.9411428383), (107.4358364603, 14.9789464417), (107.5, 14))
            Line((107.5, 14), (108.2103695235, 16.1999618834))
            Line((108.2103695235, 16.1999618834), (107.2444436972, 15.9411428383))
        make_face()
        with BuildLine():
            ThreePointArc((106.4951905284, 17.75), (106.9290964938, 16.8701257427), (107.2444436972, 15.9411428383))
            Line((107.2444436972, 15.9411428383), (107.3612159322, 18.25))
            Line((107.3612159322, 18.25), (106.4951905284, 17.75))
        make_face()
        with BuildLine():
            ThreePointArc((105.3033008589, 19.3033008589), (105.9501500522, 18.5657107176), (106.4951905284, 17.75))
            Line((106.4951905284, 17.75), (106.0104076401, 20.0104076401))
            Line((106.0104076401, 20.0104076401), (105.3033008589, 19.3033008589))
        make_face()
        with BuildLine():
            ThreePointArc((103.75, 20.4951905284), (104.5657107176, 19.9501500522), (105.3033008589, 19.3033008589))
            Line((105.3033008589, 19.3033008589), (104.25, 21.3612159322))
            Line((104.25, 21.3612159322), (103.75, 20.4951905284))
        make_face()
        with BuildLine():
            ThreePointArc((101.9411428383, 21.2444436972), (102.8701257427, 20.9290964938), (103.75, 20.4951905284))
            Line((103.75, 20.4951905284), (102.1999618834, 22.2103695235))
            Line((102.1999618834, 22.2103695235), (101.9411428383, 21.2444436972))
        make_face()
        with BuildLine():
            ThreePointArc((100, 21.5), (100.9789464417, 21.4358364603), (101.9411428383, 21.2444436972))
            Line((101.9411428383, 21.2444436972), (100, 22.5))
            Line((100, 22.5), (100, 21.5))
        make_face()
        with BuildLine():
            ThreePointArc((98.0588571617, 21.2444436972), (99.0210535583, 21.4358364603), (100, 21.5))
            Line((100, 21.5), (97.8000381166, 22.2103695235))
            Line((97.8000381166, 22.2103695235), (98.0588571617, 21.2444436972))
        make_face()
        with BuildLine():
            ThreePointArc((96.25, 20.4951905284), (97.1298742573, 20.9290964938), (98.0588571617, 21.2444436972))
            Line((98.0588571617, 21.2444436972), (95.75, 21.3612159322))
            Line((95.75, 21.3612159322), (96.25, 20.4951905284))
        make_face()
        with BuildLine():
            ThreePointArc((94.6966991411, 19.3033008589), (95.4342892824, 19.9501500522), (96.25, 20.4951905284))
            Line((96.25, 20.4951905284), (93.9895923599, 20.0104076401))
            Line((93.9895923599, 20.0104076401), (94.6966991411, 19.3033008589))
        make_face()
        with BuildLine():
            ThreePointArc((93.5048094716, 17.75), (94.0498499478, 18.5657107176), (94.6966991411, 19.3033008589))
            Line((94.6966991411, 19.3033008589), (92.6387840678, 18.25))
            Line((92.6387840678, 18.25), (93.5048094716, 17.75))
        make_face()
        with BuildLine():
            ThreePointArc((92.7555563028, 15.9411428383), (93.0709035062, 16.8701257427), (93.5048094716, 17.75))
            Line((93.5048094716, 17.75), (91.7896304765, 16.1999618834))
            Line((91.7896304765, 16.1999618834), (92.7555563028, 15.9411428383))
        make_face()
        with BuildLine():
            ThreePointArc((92.5, 14), (92.5641635397, 14.9789464417), (92.7555563028, 15.9411428383))
            Line((92.7555563028, 15.9411428383), (91.5, 14))
            Line((91.5, 14), (92.5, 14))
        make_face()
        with BuildLine():
            Line((91.7896304765, 11.8000381166), (92.7555563028, 12.0588571617))
            ThreePointArc((92.7555563028, 12.0588571617), (92.5641635397, 13.0210535583), (92.5, 14))
            Line((92.5, 14), (91.7896304765, 11.8000381166))
        make_face()
        with BuildLine():
            Line((92.6387840678, 9.75), (93.5048094716, 10.25))
            ThreePointArc((93.5048094716, 10.25), (93.0709035062, 11.1298742573), (92.7555563028, 12.0588571617))
            Line((92.7555563028, 12.0588571617), (92.6387840678, 9.75))
        make_face()
        with BuildLine():
            Line((93.9895923599, 7.9895923599), (94.6966991411, 8.6966991411))
            ThreePointArc((94.6966991411, 8.6966991411), (94.0498499478, 9.4342892824), (93.5048094716, 10.25))
            Line((93.5048094716, 10.25), (93.9895923599, 7.9895923599))
        make_face()
        with BuildLine():
            Line((95.75, 6.6387840678), (96.25, 7.5048094716))
            ThreePointArc((96.25, 7.5048094716), (95.4342892824, 8.0498499478), (94.6966991411, 8.6966991411))
            Line((94.6966991411, 8.6966991411), (95.75, 6.6387840678))
        make_face()
        with BuildLine():
            Line((97.8000381166, 5.7896304765), (98.0588571617, 6.7555563028))
            ThreePointArc((98.0588571617, 6.7555563028), (97.1298742573, 7.0709035062), (96.25, 7.5048094716))
            Line((96.25, 7.5048094716), (97.8000381166, 5.7896304765))
        make_face()
        with BuildLine():
            Line((100, 5.5), (100, 6.5))
            ThreePointArc((100, 6.5), (99.0210535583, 6.5641635397), (98.0588571617, 6.7555563028))
            Line((98.0588571617, 6.7555563028), (100, 5.5))
        make_face()
        with BuildLine():
            Line((107.3612159322, 9.75), (106.4951905284, 10.25))
            ThreePointArc((106.4951905284, 10.25), (105.9501500522, 9.4342892824), (105.3033008589, 8.6966991411))
            Line((105.3033008589, 8.6966991411), (107.3612159322, 9.75))
        make_face()
        with BuildLine():
            Line((106.0104076401, 7.9895923599), (105.3033008589, 8.6966991411))
            ThreePointArc((105.3033008589, 8.6966991411), (104.5657107176, 8.0498499478), (103.75, 7.5048094716))
            Line((103.75, 7.5048094716), (106.0104076401, 7.9895923599))
        make_face()
        with BuildLine():
            Line((104.25, 6.6387840678), (103.75, 7.5048094716))
            ThreePointArc((103.75, 7.5048094716), (102.8701257427, 7.0709035062), (101.9411428383, 6.7555563028))
            Line((101.9411428383, 6.7555563028), (104.25, 6.6387840678))
        make_face()
        with BuildLine():
            Line((102.1999618834, 5.7896304765), (101.9411428383, 6.7555563028))
            ThreePointArc((101.9411428383, 6.7555563028), (100.9789464417, 6.5641635397), (100, 6.5))
            Line((100, 6.5), (102.1999618834, 5.7896304765))
        make_face()
    extrude(amount=F12_DEPTH)


solid = Compound([f1.part, f7.part, f10.part])
